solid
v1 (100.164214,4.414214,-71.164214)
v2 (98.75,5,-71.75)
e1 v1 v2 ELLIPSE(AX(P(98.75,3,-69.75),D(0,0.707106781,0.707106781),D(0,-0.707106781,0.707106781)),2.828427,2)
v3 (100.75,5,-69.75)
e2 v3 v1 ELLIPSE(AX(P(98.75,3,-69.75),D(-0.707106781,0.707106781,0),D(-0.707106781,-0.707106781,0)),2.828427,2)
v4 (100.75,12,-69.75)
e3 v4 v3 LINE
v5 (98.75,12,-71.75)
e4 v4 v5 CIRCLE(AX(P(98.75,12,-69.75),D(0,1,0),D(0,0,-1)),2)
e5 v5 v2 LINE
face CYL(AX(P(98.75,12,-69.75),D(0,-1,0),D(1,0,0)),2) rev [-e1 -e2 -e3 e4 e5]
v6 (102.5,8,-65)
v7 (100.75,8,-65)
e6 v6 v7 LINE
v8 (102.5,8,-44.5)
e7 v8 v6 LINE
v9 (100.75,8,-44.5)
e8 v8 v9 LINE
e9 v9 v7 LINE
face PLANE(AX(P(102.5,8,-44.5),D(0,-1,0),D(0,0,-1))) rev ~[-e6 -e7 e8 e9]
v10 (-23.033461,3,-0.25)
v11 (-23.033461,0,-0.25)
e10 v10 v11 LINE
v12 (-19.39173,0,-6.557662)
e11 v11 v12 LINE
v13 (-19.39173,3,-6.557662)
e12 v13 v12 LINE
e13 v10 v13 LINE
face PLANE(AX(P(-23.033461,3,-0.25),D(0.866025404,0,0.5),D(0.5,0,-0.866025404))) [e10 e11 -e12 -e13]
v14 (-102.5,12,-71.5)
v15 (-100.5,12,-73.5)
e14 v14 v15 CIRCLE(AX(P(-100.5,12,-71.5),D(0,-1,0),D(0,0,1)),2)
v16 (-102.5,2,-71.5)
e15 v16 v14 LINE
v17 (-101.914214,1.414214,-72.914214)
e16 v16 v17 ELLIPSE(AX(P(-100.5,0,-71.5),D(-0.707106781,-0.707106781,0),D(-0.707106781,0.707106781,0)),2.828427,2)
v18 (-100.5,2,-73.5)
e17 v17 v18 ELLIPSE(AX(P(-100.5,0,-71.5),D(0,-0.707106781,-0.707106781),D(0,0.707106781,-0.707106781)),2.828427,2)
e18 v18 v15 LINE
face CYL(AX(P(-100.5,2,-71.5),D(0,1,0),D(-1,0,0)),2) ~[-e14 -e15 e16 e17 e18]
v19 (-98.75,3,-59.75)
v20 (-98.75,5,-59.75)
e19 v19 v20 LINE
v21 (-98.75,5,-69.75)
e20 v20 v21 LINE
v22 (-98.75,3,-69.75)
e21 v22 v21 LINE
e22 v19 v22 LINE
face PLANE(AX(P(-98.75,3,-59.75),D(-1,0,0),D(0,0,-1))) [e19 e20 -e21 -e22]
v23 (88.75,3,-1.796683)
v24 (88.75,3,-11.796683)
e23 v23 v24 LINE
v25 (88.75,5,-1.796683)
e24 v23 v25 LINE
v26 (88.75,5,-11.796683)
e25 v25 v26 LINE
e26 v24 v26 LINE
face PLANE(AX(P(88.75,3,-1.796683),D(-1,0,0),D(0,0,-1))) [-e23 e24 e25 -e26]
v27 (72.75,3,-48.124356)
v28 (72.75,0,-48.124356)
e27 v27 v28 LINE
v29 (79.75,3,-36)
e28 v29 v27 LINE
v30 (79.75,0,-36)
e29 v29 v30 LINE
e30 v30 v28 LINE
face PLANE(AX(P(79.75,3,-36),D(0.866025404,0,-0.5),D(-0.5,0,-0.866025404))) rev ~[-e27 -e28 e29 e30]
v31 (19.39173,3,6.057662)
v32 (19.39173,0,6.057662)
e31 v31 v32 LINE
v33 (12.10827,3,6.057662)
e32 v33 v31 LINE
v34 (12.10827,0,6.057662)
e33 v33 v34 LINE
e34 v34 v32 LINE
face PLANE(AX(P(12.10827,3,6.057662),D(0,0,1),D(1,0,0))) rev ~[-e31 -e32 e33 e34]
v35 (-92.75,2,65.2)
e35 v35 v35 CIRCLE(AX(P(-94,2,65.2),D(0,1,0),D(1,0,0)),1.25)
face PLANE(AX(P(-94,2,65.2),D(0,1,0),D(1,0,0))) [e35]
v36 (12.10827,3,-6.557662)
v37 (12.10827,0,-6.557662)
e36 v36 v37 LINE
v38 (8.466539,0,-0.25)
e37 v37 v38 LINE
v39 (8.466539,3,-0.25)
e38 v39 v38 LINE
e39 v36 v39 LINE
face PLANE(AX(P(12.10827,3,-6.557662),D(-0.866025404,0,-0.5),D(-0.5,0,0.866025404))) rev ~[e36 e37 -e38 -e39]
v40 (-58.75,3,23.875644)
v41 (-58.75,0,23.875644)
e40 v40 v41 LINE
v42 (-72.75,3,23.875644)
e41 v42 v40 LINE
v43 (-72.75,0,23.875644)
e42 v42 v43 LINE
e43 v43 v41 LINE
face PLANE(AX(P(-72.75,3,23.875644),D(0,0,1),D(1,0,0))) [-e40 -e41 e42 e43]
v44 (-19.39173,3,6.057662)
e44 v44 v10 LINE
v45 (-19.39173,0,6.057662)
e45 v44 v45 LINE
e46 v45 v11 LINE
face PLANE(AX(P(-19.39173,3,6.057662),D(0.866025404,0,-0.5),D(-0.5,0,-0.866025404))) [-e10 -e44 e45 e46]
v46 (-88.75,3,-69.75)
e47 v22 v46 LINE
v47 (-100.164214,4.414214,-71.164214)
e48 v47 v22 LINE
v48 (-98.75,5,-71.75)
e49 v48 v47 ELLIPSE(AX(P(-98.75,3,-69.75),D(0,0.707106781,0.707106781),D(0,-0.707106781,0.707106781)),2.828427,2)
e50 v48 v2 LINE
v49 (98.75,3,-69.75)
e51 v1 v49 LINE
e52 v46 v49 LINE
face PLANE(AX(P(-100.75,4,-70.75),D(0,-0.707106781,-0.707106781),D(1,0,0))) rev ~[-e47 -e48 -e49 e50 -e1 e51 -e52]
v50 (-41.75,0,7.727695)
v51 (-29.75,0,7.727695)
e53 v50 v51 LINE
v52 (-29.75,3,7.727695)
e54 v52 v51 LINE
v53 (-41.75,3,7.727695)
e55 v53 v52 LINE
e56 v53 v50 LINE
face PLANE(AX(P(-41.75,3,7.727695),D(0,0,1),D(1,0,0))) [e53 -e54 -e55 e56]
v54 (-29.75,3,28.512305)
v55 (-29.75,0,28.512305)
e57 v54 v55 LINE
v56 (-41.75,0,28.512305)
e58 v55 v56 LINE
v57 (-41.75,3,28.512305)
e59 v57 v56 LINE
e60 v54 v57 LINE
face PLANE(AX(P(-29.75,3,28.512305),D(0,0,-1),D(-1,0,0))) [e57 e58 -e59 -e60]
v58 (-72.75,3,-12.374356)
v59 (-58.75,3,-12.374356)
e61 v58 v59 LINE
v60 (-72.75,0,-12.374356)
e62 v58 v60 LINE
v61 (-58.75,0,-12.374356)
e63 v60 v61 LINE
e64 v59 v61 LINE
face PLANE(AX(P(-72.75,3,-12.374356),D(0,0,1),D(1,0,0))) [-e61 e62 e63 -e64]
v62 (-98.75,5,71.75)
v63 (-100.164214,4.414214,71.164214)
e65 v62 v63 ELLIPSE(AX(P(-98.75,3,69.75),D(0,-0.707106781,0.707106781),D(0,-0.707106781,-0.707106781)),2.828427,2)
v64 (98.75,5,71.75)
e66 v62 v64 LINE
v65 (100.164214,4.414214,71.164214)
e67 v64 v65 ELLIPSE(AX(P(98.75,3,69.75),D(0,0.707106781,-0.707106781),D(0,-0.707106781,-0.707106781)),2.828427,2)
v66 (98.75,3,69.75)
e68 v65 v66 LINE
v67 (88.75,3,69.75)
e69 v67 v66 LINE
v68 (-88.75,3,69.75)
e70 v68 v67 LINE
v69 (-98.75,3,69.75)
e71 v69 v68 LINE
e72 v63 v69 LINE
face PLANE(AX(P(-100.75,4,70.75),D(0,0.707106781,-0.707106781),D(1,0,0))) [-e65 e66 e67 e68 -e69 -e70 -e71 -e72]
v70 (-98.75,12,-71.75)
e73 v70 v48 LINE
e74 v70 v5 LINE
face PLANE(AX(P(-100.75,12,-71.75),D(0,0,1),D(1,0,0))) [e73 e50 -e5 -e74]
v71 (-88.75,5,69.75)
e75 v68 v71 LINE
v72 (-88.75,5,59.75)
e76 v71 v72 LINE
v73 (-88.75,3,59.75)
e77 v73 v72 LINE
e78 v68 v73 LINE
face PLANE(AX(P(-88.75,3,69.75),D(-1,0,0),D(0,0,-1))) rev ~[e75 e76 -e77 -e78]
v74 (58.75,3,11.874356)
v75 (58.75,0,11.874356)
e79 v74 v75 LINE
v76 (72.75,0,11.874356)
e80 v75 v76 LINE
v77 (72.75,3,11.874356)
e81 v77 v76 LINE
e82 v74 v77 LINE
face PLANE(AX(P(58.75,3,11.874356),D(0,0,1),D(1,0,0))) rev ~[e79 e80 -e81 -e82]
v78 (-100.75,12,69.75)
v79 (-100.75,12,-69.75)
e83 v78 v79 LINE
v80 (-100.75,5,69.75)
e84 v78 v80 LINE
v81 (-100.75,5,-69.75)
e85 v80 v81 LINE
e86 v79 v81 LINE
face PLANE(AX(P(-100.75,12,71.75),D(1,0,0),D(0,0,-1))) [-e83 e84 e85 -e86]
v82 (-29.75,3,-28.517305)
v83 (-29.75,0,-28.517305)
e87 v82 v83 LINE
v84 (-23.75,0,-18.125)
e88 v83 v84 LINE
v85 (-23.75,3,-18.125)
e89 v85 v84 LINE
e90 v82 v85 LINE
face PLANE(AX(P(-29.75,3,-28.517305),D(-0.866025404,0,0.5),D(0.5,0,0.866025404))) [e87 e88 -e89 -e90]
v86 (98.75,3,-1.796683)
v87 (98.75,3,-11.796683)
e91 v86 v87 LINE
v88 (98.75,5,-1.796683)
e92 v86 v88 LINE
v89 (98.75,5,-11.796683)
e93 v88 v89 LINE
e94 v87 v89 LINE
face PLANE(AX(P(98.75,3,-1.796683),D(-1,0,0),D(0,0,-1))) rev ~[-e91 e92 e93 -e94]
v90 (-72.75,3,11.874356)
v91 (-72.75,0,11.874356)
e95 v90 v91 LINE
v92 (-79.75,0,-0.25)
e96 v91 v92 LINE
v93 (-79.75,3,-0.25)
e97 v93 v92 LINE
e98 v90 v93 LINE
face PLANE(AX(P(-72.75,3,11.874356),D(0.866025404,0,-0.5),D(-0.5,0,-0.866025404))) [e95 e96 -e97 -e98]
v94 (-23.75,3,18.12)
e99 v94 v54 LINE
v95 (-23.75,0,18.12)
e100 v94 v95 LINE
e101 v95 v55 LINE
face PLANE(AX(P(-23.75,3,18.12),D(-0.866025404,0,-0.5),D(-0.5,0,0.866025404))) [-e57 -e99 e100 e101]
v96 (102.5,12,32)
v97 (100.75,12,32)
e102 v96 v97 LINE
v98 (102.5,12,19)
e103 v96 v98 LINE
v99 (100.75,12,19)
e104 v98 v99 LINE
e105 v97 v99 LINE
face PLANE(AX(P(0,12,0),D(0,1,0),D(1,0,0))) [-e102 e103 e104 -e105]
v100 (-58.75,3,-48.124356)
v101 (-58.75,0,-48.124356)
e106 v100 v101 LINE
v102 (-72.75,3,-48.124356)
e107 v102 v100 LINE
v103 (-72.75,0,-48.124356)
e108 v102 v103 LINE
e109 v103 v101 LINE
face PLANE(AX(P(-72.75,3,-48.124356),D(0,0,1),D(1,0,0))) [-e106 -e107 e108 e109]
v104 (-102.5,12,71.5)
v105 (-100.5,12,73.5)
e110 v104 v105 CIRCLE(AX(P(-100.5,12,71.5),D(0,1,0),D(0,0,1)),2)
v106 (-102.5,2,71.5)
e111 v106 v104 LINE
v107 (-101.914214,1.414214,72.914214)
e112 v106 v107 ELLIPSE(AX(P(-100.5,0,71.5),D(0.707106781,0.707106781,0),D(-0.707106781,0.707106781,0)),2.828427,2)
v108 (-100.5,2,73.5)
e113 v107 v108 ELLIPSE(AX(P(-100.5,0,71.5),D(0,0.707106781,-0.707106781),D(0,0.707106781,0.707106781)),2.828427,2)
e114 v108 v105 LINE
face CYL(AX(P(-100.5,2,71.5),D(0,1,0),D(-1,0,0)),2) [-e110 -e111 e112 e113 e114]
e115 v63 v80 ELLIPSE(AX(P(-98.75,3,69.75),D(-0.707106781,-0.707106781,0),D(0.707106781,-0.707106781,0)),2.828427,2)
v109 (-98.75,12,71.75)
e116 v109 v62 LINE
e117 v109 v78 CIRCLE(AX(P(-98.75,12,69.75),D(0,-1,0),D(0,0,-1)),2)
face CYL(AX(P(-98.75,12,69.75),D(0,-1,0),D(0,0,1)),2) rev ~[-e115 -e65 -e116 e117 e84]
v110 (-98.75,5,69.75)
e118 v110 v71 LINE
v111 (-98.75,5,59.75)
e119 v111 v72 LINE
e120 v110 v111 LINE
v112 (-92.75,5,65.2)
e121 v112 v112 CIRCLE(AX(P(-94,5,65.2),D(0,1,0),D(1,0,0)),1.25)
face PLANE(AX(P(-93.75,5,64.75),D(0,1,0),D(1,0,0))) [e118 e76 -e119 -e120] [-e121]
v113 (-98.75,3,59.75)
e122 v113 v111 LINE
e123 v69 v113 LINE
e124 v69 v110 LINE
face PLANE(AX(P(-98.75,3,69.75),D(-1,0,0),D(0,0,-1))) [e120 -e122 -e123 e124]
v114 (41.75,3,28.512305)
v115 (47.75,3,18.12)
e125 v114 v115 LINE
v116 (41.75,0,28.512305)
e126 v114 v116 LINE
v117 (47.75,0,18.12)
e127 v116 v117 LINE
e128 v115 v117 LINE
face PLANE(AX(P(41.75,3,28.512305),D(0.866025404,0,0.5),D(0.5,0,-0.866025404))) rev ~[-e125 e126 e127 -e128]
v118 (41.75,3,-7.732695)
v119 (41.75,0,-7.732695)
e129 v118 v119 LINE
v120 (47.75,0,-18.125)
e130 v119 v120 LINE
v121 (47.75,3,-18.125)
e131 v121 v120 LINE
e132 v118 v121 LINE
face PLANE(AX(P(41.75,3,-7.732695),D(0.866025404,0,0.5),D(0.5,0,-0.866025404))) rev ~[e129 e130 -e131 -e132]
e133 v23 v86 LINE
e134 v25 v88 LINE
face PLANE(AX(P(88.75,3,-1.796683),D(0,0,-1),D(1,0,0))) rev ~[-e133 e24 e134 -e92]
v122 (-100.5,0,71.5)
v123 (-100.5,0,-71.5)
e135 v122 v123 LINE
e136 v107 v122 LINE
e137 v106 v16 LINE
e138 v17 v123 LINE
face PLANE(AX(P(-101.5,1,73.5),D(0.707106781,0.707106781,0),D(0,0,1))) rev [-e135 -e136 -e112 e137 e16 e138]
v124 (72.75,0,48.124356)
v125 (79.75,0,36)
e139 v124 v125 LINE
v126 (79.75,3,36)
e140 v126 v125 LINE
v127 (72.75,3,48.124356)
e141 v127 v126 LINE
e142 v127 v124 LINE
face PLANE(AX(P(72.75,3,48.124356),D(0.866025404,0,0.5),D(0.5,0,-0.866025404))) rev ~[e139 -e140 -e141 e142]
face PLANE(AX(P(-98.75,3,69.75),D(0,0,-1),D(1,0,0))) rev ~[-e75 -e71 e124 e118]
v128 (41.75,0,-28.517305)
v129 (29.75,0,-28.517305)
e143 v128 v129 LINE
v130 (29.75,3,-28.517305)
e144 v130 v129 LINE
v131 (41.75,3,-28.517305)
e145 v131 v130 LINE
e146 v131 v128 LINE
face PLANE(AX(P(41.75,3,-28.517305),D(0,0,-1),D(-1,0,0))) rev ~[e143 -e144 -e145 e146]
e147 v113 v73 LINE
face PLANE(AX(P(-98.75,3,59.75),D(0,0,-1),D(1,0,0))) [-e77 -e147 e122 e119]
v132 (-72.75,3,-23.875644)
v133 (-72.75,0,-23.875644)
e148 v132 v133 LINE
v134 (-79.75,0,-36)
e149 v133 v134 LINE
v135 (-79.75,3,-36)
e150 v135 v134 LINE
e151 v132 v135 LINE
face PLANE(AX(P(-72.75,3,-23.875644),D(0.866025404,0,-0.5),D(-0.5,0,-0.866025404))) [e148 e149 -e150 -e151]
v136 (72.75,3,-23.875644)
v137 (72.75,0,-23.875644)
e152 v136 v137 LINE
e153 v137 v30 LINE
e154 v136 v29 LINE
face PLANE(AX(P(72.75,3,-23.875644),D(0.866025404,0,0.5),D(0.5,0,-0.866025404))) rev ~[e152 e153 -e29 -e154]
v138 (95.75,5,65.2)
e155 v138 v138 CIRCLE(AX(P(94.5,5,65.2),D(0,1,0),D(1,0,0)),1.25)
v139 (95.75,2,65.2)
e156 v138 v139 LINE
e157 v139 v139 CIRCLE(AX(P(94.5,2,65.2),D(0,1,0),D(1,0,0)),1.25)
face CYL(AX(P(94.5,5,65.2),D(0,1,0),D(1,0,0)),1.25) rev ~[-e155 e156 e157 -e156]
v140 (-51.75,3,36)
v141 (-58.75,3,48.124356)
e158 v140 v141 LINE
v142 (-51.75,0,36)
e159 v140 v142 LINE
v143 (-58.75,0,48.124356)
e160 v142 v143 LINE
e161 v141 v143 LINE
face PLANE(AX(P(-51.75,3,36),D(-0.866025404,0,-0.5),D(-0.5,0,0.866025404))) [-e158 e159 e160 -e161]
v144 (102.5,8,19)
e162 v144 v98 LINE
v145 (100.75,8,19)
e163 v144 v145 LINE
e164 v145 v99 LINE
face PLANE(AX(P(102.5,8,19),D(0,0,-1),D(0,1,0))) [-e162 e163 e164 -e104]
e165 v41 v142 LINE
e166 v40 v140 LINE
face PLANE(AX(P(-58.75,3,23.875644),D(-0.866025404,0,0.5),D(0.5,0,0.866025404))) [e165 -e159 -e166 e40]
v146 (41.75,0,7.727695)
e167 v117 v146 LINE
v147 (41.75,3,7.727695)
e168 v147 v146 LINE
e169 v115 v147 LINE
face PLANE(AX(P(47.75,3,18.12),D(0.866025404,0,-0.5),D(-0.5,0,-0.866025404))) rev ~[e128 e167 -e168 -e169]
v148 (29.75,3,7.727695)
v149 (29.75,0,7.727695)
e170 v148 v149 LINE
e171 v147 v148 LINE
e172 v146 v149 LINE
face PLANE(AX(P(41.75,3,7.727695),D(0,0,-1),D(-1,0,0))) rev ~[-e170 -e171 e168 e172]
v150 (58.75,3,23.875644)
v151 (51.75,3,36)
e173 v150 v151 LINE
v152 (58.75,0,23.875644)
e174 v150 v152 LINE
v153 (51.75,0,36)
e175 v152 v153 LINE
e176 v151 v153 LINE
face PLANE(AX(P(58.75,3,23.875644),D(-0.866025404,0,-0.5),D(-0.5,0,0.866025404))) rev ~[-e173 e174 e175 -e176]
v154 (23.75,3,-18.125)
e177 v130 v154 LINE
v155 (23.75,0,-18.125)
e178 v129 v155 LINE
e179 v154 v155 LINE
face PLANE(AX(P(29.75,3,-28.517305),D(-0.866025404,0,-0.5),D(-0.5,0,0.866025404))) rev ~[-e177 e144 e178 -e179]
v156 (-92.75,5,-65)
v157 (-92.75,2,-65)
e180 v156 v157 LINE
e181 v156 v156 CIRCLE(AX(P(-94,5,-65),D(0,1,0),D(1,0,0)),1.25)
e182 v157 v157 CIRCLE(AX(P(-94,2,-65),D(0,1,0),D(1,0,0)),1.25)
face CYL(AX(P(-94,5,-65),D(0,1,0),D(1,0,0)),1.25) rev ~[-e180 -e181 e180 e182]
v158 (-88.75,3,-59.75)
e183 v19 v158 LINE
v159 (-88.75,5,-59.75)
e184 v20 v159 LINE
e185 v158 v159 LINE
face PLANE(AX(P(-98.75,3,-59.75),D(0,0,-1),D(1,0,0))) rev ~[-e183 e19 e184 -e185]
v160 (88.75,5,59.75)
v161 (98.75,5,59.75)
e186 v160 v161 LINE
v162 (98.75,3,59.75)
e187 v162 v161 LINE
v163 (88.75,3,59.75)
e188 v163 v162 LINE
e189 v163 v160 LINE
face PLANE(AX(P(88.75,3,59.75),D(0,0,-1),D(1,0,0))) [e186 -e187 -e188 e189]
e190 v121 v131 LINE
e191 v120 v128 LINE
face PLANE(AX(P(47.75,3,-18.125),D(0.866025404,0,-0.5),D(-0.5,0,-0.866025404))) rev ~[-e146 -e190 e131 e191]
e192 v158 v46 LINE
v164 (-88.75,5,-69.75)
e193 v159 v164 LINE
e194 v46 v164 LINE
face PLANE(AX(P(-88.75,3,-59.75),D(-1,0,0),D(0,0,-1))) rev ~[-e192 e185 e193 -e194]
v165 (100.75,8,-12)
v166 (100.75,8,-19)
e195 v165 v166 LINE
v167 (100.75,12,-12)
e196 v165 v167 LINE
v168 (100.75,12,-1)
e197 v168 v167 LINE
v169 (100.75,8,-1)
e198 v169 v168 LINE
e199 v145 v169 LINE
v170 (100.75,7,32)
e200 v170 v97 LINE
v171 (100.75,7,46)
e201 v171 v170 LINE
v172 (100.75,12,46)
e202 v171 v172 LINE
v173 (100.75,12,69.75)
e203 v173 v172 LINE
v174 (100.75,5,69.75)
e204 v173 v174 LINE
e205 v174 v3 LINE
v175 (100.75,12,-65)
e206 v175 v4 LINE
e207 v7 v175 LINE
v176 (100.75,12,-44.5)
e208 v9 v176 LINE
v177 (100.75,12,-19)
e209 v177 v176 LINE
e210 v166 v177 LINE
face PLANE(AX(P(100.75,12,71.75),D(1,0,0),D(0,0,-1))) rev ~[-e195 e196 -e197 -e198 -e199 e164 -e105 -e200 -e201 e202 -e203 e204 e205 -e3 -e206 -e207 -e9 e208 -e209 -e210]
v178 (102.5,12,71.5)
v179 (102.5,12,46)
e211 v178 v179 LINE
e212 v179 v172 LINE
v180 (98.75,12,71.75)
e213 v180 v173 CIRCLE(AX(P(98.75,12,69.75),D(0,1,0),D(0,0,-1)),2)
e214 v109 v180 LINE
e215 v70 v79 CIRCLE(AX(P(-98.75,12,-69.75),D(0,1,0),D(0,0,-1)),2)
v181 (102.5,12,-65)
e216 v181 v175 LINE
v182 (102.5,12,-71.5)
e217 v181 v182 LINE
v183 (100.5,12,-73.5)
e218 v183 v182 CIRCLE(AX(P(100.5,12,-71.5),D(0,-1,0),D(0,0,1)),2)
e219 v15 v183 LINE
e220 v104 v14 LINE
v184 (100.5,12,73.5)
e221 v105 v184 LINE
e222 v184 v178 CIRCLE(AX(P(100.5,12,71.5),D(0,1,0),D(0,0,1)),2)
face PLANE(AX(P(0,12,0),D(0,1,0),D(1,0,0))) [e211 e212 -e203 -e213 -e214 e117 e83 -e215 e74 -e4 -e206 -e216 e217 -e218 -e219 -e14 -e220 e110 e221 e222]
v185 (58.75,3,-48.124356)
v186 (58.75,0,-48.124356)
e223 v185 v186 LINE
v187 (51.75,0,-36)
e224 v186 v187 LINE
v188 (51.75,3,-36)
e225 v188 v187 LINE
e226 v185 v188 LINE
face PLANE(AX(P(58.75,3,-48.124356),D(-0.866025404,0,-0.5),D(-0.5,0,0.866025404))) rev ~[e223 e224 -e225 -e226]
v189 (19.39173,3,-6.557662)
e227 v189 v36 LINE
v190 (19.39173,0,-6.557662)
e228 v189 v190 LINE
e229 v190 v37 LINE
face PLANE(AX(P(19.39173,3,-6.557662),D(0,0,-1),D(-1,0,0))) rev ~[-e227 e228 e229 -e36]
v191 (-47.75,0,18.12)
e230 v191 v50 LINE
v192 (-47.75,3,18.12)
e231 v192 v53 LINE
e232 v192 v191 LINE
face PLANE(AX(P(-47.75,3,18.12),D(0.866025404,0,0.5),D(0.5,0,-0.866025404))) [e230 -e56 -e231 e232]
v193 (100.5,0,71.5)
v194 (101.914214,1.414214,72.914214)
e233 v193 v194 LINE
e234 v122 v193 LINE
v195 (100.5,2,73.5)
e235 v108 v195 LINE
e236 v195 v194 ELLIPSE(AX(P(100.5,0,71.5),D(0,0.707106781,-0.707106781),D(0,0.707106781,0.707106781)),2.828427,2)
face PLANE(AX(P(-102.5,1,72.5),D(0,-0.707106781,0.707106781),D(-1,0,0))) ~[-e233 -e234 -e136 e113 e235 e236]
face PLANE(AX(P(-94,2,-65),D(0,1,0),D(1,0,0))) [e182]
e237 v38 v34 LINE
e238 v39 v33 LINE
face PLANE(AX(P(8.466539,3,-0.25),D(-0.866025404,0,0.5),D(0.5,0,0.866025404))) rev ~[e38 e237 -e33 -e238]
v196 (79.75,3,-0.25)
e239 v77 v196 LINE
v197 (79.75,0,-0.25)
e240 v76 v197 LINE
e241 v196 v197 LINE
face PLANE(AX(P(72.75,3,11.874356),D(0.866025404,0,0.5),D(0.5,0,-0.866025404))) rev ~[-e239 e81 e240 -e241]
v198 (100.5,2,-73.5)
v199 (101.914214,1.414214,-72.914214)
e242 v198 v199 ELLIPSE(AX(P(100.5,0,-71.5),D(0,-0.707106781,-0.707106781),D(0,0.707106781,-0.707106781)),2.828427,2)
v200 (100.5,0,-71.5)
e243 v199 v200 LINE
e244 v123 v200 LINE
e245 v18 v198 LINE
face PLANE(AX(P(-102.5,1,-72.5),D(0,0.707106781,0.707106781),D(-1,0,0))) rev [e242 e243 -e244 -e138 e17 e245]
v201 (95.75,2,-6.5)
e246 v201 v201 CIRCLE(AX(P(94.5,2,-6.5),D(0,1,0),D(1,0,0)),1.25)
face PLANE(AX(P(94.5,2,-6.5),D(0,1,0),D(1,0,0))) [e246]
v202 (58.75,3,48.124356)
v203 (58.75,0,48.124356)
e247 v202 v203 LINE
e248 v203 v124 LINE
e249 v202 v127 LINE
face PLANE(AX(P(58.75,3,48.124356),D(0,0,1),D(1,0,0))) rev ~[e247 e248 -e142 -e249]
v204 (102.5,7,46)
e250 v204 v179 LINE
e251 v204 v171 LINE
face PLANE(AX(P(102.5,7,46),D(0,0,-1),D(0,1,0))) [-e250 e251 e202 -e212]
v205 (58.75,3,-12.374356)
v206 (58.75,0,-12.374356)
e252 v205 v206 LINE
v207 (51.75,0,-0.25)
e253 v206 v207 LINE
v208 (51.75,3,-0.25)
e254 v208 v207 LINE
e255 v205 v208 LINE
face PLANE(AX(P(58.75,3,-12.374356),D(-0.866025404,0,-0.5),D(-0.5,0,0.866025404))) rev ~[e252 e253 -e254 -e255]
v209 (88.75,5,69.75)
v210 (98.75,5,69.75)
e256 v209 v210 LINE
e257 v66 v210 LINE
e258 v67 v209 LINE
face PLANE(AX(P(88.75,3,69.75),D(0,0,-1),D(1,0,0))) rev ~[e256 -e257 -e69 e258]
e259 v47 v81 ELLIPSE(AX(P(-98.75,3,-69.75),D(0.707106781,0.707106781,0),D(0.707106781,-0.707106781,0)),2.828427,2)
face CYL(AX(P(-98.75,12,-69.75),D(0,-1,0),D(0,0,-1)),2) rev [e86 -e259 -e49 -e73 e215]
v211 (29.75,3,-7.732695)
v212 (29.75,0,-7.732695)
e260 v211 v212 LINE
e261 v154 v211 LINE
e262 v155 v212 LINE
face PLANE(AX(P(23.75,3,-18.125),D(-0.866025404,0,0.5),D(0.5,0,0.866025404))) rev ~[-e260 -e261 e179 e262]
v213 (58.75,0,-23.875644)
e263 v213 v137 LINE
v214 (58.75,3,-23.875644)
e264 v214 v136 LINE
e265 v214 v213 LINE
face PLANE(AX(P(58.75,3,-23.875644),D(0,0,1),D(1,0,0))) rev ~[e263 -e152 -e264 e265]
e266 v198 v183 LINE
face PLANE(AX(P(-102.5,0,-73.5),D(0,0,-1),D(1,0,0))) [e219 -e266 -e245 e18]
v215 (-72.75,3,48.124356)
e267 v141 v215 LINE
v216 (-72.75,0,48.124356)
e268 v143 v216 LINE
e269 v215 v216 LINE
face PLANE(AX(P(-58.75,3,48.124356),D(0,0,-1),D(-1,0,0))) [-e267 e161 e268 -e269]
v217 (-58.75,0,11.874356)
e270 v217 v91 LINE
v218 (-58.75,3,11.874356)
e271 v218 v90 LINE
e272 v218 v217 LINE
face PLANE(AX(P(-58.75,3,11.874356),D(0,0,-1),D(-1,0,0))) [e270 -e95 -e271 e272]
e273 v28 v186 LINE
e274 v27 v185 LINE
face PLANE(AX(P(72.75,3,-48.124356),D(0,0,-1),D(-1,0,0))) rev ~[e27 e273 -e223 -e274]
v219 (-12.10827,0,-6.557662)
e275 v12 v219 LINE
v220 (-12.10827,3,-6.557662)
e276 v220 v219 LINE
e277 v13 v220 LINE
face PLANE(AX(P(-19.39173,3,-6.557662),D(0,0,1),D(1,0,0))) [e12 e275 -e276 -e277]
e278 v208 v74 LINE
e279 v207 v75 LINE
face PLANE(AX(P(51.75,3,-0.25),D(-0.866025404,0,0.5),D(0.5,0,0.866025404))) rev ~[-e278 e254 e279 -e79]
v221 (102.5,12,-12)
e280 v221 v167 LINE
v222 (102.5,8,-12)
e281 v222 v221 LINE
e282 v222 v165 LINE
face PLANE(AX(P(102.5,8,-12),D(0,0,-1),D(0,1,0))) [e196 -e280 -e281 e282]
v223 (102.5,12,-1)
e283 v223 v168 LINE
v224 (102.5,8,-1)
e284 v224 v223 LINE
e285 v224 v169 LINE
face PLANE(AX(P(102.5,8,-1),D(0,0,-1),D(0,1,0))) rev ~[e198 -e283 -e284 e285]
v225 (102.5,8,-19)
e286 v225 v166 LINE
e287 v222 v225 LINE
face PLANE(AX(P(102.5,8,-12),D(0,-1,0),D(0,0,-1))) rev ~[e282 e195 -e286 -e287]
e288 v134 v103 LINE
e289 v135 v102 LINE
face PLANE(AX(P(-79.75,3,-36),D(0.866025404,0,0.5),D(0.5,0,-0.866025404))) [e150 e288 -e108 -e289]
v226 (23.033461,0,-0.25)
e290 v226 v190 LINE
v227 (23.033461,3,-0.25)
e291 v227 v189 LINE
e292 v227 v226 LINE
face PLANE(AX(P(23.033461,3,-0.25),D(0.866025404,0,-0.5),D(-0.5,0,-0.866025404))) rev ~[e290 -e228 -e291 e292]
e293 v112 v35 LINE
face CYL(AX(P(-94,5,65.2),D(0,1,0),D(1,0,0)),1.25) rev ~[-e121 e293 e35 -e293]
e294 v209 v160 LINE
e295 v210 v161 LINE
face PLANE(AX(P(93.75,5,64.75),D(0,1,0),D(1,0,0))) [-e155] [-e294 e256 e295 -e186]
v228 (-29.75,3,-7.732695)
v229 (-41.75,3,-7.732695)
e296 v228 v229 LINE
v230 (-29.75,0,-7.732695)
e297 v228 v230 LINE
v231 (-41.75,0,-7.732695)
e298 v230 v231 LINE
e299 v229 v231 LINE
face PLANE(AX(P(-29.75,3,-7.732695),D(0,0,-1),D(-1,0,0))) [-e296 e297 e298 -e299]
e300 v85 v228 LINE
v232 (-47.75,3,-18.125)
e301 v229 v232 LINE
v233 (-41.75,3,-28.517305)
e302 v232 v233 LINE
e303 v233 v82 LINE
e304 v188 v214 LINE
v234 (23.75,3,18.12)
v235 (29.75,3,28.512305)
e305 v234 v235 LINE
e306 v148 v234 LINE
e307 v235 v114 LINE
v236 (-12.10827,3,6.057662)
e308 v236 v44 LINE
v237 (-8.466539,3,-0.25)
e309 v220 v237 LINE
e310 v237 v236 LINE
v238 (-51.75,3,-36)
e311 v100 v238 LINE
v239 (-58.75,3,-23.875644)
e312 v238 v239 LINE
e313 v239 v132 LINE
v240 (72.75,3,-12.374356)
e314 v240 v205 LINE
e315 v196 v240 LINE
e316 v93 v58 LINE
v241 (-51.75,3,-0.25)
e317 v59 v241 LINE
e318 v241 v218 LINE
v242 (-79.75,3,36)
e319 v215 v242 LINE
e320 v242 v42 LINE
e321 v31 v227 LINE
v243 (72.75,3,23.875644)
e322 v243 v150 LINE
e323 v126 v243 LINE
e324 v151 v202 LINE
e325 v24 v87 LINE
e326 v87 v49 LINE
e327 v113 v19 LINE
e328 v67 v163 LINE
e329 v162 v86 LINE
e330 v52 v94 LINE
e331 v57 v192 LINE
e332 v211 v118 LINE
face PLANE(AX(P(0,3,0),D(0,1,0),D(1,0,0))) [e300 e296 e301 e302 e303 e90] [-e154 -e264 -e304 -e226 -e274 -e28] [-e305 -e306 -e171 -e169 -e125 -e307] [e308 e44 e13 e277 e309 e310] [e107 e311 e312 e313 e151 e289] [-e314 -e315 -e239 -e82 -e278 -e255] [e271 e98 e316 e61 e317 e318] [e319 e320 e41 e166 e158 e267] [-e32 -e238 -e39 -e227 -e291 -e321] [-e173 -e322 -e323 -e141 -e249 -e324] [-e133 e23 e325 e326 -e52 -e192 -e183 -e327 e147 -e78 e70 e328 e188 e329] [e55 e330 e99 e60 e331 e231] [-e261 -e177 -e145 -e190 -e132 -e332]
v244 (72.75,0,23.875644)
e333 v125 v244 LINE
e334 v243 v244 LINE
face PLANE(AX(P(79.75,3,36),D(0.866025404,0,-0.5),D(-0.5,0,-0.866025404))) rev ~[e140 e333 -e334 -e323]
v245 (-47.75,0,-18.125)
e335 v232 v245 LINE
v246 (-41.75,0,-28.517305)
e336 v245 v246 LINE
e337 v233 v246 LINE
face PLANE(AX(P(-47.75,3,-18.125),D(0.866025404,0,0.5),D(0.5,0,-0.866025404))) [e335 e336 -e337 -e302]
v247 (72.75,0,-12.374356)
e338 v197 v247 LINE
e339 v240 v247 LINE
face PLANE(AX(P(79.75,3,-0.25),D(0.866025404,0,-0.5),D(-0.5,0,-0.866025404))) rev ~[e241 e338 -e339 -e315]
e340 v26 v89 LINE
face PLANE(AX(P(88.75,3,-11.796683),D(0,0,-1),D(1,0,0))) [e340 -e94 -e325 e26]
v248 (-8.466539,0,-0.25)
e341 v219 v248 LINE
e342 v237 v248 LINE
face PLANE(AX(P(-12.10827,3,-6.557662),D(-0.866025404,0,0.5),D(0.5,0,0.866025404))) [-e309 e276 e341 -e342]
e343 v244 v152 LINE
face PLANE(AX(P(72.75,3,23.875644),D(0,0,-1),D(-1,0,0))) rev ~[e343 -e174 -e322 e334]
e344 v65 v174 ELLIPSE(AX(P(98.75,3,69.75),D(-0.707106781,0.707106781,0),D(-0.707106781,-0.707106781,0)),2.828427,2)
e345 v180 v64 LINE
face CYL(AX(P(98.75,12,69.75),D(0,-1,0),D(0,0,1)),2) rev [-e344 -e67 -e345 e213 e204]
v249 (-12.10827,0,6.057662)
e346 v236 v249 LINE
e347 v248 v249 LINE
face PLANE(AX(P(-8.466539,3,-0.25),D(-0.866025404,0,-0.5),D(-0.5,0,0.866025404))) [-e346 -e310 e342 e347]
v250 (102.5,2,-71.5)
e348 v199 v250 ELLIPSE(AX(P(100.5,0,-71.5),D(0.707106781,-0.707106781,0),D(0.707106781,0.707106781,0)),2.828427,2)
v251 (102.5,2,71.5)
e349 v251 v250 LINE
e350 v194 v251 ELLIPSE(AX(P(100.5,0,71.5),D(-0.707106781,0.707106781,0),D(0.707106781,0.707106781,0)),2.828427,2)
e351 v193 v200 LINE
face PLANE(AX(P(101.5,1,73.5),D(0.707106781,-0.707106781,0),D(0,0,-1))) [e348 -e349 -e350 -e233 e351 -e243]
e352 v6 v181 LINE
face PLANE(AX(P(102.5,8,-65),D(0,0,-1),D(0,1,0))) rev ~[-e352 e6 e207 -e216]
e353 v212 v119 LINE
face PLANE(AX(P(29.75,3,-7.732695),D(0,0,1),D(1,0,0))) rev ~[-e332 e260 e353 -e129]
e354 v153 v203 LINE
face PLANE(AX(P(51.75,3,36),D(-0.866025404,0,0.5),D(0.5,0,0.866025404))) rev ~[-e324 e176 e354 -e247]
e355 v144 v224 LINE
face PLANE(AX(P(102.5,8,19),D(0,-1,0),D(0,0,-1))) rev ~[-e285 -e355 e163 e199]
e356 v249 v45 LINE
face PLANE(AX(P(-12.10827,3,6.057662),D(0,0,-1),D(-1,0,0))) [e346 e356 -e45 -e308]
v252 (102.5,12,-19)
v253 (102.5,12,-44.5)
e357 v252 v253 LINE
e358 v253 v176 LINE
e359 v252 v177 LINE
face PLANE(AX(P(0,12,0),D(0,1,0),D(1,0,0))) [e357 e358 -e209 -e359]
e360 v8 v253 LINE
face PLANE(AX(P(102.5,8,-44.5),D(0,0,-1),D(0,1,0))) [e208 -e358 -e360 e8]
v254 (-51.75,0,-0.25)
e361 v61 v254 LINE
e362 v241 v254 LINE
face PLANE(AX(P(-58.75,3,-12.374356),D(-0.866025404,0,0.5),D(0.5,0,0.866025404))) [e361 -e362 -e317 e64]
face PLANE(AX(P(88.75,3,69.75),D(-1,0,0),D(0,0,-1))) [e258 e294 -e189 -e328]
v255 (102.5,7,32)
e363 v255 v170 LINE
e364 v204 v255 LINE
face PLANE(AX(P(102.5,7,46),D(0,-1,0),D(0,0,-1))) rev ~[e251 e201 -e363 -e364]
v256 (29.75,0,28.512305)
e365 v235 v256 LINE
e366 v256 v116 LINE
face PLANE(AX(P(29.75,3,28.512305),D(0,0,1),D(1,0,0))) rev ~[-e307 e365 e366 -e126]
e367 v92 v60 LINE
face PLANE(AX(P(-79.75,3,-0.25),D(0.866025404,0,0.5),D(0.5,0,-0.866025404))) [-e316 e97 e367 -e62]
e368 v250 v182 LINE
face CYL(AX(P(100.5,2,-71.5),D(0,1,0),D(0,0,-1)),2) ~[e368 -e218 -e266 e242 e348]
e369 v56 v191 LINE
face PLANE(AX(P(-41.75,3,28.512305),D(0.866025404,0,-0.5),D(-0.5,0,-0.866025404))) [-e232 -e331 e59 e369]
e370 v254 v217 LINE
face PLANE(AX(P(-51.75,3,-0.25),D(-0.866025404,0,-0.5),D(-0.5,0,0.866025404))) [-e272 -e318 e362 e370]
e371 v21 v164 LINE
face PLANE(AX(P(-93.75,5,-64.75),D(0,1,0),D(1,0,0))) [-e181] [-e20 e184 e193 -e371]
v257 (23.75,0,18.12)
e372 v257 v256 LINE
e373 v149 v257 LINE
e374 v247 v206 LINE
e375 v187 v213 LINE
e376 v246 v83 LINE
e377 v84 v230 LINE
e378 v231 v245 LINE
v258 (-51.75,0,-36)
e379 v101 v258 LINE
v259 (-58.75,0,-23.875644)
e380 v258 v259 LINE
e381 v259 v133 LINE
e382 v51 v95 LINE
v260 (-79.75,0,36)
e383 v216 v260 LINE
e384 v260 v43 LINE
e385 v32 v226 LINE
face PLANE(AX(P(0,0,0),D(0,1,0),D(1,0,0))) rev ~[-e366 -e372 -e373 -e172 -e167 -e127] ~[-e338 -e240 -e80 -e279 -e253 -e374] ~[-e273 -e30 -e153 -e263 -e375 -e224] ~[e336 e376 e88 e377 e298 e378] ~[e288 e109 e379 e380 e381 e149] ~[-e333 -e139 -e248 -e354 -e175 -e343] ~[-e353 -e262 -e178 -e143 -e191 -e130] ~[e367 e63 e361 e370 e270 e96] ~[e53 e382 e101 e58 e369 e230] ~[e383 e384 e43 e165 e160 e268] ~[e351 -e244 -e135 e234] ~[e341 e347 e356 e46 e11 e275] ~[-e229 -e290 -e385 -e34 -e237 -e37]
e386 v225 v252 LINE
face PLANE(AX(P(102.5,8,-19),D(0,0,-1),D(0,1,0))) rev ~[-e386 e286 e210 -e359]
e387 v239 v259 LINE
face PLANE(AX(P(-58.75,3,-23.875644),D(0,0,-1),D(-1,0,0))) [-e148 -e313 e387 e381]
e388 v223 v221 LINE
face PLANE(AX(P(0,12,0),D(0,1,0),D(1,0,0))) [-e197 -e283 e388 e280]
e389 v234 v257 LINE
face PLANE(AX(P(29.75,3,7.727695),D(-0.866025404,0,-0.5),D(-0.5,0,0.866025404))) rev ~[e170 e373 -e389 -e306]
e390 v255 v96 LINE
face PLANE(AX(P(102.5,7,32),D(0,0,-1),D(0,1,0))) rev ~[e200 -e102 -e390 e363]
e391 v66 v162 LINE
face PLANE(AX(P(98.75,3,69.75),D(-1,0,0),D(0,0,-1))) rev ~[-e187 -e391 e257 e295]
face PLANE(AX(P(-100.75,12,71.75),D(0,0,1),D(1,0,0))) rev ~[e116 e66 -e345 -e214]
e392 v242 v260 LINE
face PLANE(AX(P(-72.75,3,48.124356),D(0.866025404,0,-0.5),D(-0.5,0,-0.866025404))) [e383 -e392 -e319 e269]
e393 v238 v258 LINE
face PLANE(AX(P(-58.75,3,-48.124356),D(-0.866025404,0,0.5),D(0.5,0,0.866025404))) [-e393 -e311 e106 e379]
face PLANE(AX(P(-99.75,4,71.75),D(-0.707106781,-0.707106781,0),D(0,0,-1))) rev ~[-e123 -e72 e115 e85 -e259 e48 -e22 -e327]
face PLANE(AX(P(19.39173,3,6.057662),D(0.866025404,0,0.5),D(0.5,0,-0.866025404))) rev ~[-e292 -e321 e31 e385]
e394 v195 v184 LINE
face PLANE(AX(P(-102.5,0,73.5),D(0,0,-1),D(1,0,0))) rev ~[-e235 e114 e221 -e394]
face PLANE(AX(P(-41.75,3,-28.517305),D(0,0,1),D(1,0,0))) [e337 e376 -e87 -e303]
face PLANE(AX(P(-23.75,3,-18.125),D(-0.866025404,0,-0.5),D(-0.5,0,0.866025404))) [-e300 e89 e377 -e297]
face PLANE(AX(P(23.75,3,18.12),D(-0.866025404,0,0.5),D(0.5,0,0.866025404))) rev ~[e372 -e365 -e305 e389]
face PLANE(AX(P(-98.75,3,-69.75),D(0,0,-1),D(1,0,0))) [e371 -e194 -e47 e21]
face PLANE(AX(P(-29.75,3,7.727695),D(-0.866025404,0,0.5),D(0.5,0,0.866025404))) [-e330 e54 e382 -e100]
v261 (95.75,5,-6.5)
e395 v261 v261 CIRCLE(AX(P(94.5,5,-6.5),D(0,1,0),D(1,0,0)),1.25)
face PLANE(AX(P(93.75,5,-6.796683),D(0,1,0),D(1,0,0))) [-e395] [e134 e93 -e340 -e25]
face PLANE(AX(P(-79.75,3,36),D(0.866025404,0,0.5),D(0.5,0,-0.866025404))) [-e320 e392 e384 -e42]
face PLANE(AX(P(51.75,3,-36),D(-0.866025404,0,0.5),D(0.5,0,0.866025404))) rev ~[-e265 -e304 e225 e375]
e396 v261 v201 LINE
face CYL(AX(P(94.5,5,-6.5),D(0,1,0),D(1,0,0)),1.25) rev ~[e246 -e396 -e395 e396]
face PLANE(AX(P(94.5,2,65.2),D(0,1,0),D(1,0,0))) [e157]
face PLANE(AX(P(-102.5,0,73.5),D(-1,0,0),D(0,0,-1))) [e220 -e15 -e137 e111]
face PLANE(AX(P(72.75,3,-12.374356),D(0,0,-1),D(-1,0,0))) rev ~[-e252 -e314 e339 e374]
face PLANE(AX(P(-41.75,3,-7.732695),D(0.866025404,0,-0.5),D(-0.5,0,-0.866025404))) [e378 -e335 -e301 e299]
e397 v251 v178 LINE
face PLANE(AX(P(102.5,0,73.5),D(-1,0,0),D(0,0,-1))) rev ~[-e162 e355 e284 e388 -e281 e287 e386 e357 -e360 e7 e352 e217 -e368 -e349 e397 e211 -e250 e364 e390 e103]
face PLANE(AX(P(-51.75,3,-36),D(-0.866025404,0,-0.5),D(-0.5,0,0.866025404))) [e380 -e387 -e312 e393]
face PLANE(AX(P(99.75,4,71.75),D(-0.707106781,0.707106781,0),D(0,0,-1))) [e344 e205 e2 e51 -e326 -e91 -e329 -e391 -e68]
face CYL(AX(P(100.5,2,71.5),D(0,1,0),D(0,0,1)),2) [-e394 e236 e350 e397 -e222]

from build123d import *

# Parameters (mm, degrees)
SKETCH1_W           = 205
SKETCH1_H           = 147
BOSS_EXTRUDE1_DEPTH = 12
SKETCH2_W           = 201.5
SKETCH2_H           = 143.5
CUT_EXTRUDE1_DEPTH  = 9
CUT_EXTRUDE2_DEPTH  = 4
CHAMFER1_SIZE       = 2
FILLET1_R           = 2
SKETCH4_W           = 14
SKETCH4_H           = 5
SKETCH4_W_2         = 20
SKETCH4_H_2         = 4
SKETCH4_W_3         = 7
SKETCH4_W_4         = 20.5
CUT_EXTRUDE3_DEPTH  = 10
SKETCH5_W           = 10
SKETCH5_H           = 10
BOSS_EXTRUDE2_DEPTH = 2
SKETCH6_R           = 1.25
CUT_EXTRUDE4_DEPTH  = 3


with BuildPart() as part:
    # Sketch1 → Boss-Extrude1 (new body)
    with BuildSketch(Plane(origin=(0, 0, 0), x_dir=(1, 0, 0), z_dir=(0, 1, 0))):
        Rectangle(SKETCH1_W, SKETCH1_H)
    extrude(amount=BOSS_EXTRUDE1_DEPTH)

    # Sketch2 → Cut-Extrude1 (cut)
    with BuildSketch(Plane(origin=(0, 12, 0), x_dir=(1, 0, 0), z_dir=(0, 1, 0))):
        Rectangle(SKETCH2_W, SKETCH2_H)
    extrude(amount=-CUT_EXTRUDE1_DEPTH, mode=Mode.SUBTRACT)

    # Sketch3 → Cut-Extrude2 (cut, through all)
    with BuildSketch(Plane(origin=(0, 3, 0), x_dir=(1, 0, 0), z_dir=(0, 1, 0))):
        Polygon((23.033460859, 0.25), (19.39173043, 6.557662131), (12.10826957, 6.557662131), (8.466539141, 0.25), (12.10826957, -6.057662131), (19.39173043, -6.057662131), align=None)
        Polygon((47.75, 18.125), (41.75, 28.517304845), (29.75, 28.517304845), (23.75, 18.125), (29.75, 7.732695155), (41.75, 7.732695155), align=None)
        Polygon((47.75, -18.12), (41.75, -7.727695155), (29.75, -7.727695155), (23.75, -18.12), (29.75, -28.512304845), (41.75, -28.512304845), align=None)
        Polygon((79.75, 0.25), (72.75, 12.374355653), (58.75, 12.374355653), (51.75, 0.25), (58.75, -11.874355653), (72.75, -11.874355653), align=None)
        Polygon((79.75, -36), (72.75, -23.875644347), (58.75, -23.875644347), (51.75, -36), (58.75, -48.124355653), (72.75, -48.124355653), align=None)
        Polygon((79.75, 36), (72.75, 48.124355653), (58.75, 48.124355653), (51.75, 36), (58.75, 23.875644347), (72.75, 23.875644347), align=None)
        Polygon((-19.39173043, -6.057662131), (-23.033460859, 0.25), (-19.39173043, 6.557662131), (-12.10826957, 6.557662131), (-8.466539141, 0.25), (-12.10826957, -6.057662131), align=None)
        Polygon((-72.75, 23.875644347), (-79.75, 36), (-72.75, 48.124355653), (-58.75, 48.124355653), (-51.75, 36), (-58.75, 23.875644347), align=None)
        Polygon((-72.75, -48.124355653), (-79.75, -36), (-72.75, -23.875644347), (-58.75, -23.875644347), (-51.75, -36), (-58.75, -48.124355653), align=None)
        Polygon((-72.75, -11.874355653), (-79.75, 0.25), (-72.75, 12.374355653), (-58.75, 12.374355653), (-51.75, 0.25), (-58.75, -11.874355653), align=None)
        Polygon((-41.75, -28.512304845), (-47.75, -18.12), (-41.75, -7.727695155), (-29.75, -7.727695155), (-23.75, -18.12), (-29.75, -28.512304845), align=None)
        Polygon((-41.75, 7.732695155), (-47.75, 18.125), (-41.75, 28.517304845), (-29.75, 28.517304845), (-23.75, 18.125), (-29.75, 7.732695155), align=None)
    extrude(amount=-CUT_EXTRUDE2_DEPTH, mode=Mode.SUBTRACT)

    # Chamfer1
    chamfer1_edges = [part.edges().sort_by_distance(p)[0] for p in [
        (-100.75, 3, 0),
        (0, 3, -71.75),
        (100.75, 3, 0),
        (0, 3, 71.75),
        (0, 0, -73.5),
        (102.5, 0, 0),
        (0, 0, 73.5),
        (-102.5, 0, 0),
    ]]
    chamfer(chamfer1_edges, length=CHAMFER1_SIZE)

    # Fillet1
    fillet1_edges = [part.edges().sort_by_distance(p)[0] for p in [
        (100.75, 8.5, -71.75),
        (100.75, 8.5, 71.75),
        (-100.75, 8.5, 71.75),
        (-100.75, 8.5, -71.75),
        (-102.5, 7, -73.5),
        (102.5, 7, -73.5),
        (102.5, 7, 73.5),
        (-102.5, 7, 73.5),
    ]]
    fillet(fillet1_edges, radius=FILLET1_R)

    # Sketch4 → Cut-Extrude3 (cut)
    with BuildSketch(Plane(origin=(102.5, 0, 0), x_dir=(0, 0, -1), z_dir=(1, 0, 0))):
        with Locations((-39, 9.5)):
            Rectangle(SKETCH4_W, SKETCH4_H)
        with Locations((-9, 10)):
            Rectangle(SKETCH4_W_2, SKETCH4_H_2)
        with Locations((15.5, 10)):
            Rectangle(SKETCH4_W_3, SKETCH4_H_2)
        with Locations((54.75, 10)):
            Rectangle(SKETCH4_W_4, SKETCH4_H_2)
    extrude(amount=-CUT_EXTRUDE3_DEPTH, mode=Mode.SUBTRACT)

    # Sketch5 → Boss-Extrude2 (add)
    with BuildSketch(Plane(origin=(0, 3, 0), x_dir=(1, 0, 0), z_dir=(0, 1, 0))):
        with Locations((-93.75, 64.75)):
            Rectangle(SKETCH5_W, SKETCH5_H)
        with Locations((-93.75, -64.75)):
            Rectangle(SKETCH5_W, SKETCH5_H)
        with Locations((93.75, -64.75)):
            Rectangle(SKETCH5_W, SKETCH5_H)
        with Locations((93.75, 6.796682995)):
            Rectangle(SKETCH5_W, SKETCH5_H)
    extrude(amount=BOSS_EXTRUDE2_DEPTH)

    # Sketch6 → Cut-Extrude4 (cut)
    with BuildSketch(Plane(origin=(0, 5, 0), x_dir=(1, 0, 0), z_dir=(0, 1, 0))):
        with Locations((-94, -65.2)):
            Circle(SKETCH6_R)
        with Locations((-94, 65)):
            Circle(SKETCH6_R)
        with Locations((94.5, 6.5)):
            Circle(SKETCH6_R)
        with Locations((94.5, -65.2)):
            Circle(SKETCH6_R)
    extrude(amount=-CUT_EXTRUDE4_DEPTH, mode=Mode.SUBTRACT)


solid = part.part
